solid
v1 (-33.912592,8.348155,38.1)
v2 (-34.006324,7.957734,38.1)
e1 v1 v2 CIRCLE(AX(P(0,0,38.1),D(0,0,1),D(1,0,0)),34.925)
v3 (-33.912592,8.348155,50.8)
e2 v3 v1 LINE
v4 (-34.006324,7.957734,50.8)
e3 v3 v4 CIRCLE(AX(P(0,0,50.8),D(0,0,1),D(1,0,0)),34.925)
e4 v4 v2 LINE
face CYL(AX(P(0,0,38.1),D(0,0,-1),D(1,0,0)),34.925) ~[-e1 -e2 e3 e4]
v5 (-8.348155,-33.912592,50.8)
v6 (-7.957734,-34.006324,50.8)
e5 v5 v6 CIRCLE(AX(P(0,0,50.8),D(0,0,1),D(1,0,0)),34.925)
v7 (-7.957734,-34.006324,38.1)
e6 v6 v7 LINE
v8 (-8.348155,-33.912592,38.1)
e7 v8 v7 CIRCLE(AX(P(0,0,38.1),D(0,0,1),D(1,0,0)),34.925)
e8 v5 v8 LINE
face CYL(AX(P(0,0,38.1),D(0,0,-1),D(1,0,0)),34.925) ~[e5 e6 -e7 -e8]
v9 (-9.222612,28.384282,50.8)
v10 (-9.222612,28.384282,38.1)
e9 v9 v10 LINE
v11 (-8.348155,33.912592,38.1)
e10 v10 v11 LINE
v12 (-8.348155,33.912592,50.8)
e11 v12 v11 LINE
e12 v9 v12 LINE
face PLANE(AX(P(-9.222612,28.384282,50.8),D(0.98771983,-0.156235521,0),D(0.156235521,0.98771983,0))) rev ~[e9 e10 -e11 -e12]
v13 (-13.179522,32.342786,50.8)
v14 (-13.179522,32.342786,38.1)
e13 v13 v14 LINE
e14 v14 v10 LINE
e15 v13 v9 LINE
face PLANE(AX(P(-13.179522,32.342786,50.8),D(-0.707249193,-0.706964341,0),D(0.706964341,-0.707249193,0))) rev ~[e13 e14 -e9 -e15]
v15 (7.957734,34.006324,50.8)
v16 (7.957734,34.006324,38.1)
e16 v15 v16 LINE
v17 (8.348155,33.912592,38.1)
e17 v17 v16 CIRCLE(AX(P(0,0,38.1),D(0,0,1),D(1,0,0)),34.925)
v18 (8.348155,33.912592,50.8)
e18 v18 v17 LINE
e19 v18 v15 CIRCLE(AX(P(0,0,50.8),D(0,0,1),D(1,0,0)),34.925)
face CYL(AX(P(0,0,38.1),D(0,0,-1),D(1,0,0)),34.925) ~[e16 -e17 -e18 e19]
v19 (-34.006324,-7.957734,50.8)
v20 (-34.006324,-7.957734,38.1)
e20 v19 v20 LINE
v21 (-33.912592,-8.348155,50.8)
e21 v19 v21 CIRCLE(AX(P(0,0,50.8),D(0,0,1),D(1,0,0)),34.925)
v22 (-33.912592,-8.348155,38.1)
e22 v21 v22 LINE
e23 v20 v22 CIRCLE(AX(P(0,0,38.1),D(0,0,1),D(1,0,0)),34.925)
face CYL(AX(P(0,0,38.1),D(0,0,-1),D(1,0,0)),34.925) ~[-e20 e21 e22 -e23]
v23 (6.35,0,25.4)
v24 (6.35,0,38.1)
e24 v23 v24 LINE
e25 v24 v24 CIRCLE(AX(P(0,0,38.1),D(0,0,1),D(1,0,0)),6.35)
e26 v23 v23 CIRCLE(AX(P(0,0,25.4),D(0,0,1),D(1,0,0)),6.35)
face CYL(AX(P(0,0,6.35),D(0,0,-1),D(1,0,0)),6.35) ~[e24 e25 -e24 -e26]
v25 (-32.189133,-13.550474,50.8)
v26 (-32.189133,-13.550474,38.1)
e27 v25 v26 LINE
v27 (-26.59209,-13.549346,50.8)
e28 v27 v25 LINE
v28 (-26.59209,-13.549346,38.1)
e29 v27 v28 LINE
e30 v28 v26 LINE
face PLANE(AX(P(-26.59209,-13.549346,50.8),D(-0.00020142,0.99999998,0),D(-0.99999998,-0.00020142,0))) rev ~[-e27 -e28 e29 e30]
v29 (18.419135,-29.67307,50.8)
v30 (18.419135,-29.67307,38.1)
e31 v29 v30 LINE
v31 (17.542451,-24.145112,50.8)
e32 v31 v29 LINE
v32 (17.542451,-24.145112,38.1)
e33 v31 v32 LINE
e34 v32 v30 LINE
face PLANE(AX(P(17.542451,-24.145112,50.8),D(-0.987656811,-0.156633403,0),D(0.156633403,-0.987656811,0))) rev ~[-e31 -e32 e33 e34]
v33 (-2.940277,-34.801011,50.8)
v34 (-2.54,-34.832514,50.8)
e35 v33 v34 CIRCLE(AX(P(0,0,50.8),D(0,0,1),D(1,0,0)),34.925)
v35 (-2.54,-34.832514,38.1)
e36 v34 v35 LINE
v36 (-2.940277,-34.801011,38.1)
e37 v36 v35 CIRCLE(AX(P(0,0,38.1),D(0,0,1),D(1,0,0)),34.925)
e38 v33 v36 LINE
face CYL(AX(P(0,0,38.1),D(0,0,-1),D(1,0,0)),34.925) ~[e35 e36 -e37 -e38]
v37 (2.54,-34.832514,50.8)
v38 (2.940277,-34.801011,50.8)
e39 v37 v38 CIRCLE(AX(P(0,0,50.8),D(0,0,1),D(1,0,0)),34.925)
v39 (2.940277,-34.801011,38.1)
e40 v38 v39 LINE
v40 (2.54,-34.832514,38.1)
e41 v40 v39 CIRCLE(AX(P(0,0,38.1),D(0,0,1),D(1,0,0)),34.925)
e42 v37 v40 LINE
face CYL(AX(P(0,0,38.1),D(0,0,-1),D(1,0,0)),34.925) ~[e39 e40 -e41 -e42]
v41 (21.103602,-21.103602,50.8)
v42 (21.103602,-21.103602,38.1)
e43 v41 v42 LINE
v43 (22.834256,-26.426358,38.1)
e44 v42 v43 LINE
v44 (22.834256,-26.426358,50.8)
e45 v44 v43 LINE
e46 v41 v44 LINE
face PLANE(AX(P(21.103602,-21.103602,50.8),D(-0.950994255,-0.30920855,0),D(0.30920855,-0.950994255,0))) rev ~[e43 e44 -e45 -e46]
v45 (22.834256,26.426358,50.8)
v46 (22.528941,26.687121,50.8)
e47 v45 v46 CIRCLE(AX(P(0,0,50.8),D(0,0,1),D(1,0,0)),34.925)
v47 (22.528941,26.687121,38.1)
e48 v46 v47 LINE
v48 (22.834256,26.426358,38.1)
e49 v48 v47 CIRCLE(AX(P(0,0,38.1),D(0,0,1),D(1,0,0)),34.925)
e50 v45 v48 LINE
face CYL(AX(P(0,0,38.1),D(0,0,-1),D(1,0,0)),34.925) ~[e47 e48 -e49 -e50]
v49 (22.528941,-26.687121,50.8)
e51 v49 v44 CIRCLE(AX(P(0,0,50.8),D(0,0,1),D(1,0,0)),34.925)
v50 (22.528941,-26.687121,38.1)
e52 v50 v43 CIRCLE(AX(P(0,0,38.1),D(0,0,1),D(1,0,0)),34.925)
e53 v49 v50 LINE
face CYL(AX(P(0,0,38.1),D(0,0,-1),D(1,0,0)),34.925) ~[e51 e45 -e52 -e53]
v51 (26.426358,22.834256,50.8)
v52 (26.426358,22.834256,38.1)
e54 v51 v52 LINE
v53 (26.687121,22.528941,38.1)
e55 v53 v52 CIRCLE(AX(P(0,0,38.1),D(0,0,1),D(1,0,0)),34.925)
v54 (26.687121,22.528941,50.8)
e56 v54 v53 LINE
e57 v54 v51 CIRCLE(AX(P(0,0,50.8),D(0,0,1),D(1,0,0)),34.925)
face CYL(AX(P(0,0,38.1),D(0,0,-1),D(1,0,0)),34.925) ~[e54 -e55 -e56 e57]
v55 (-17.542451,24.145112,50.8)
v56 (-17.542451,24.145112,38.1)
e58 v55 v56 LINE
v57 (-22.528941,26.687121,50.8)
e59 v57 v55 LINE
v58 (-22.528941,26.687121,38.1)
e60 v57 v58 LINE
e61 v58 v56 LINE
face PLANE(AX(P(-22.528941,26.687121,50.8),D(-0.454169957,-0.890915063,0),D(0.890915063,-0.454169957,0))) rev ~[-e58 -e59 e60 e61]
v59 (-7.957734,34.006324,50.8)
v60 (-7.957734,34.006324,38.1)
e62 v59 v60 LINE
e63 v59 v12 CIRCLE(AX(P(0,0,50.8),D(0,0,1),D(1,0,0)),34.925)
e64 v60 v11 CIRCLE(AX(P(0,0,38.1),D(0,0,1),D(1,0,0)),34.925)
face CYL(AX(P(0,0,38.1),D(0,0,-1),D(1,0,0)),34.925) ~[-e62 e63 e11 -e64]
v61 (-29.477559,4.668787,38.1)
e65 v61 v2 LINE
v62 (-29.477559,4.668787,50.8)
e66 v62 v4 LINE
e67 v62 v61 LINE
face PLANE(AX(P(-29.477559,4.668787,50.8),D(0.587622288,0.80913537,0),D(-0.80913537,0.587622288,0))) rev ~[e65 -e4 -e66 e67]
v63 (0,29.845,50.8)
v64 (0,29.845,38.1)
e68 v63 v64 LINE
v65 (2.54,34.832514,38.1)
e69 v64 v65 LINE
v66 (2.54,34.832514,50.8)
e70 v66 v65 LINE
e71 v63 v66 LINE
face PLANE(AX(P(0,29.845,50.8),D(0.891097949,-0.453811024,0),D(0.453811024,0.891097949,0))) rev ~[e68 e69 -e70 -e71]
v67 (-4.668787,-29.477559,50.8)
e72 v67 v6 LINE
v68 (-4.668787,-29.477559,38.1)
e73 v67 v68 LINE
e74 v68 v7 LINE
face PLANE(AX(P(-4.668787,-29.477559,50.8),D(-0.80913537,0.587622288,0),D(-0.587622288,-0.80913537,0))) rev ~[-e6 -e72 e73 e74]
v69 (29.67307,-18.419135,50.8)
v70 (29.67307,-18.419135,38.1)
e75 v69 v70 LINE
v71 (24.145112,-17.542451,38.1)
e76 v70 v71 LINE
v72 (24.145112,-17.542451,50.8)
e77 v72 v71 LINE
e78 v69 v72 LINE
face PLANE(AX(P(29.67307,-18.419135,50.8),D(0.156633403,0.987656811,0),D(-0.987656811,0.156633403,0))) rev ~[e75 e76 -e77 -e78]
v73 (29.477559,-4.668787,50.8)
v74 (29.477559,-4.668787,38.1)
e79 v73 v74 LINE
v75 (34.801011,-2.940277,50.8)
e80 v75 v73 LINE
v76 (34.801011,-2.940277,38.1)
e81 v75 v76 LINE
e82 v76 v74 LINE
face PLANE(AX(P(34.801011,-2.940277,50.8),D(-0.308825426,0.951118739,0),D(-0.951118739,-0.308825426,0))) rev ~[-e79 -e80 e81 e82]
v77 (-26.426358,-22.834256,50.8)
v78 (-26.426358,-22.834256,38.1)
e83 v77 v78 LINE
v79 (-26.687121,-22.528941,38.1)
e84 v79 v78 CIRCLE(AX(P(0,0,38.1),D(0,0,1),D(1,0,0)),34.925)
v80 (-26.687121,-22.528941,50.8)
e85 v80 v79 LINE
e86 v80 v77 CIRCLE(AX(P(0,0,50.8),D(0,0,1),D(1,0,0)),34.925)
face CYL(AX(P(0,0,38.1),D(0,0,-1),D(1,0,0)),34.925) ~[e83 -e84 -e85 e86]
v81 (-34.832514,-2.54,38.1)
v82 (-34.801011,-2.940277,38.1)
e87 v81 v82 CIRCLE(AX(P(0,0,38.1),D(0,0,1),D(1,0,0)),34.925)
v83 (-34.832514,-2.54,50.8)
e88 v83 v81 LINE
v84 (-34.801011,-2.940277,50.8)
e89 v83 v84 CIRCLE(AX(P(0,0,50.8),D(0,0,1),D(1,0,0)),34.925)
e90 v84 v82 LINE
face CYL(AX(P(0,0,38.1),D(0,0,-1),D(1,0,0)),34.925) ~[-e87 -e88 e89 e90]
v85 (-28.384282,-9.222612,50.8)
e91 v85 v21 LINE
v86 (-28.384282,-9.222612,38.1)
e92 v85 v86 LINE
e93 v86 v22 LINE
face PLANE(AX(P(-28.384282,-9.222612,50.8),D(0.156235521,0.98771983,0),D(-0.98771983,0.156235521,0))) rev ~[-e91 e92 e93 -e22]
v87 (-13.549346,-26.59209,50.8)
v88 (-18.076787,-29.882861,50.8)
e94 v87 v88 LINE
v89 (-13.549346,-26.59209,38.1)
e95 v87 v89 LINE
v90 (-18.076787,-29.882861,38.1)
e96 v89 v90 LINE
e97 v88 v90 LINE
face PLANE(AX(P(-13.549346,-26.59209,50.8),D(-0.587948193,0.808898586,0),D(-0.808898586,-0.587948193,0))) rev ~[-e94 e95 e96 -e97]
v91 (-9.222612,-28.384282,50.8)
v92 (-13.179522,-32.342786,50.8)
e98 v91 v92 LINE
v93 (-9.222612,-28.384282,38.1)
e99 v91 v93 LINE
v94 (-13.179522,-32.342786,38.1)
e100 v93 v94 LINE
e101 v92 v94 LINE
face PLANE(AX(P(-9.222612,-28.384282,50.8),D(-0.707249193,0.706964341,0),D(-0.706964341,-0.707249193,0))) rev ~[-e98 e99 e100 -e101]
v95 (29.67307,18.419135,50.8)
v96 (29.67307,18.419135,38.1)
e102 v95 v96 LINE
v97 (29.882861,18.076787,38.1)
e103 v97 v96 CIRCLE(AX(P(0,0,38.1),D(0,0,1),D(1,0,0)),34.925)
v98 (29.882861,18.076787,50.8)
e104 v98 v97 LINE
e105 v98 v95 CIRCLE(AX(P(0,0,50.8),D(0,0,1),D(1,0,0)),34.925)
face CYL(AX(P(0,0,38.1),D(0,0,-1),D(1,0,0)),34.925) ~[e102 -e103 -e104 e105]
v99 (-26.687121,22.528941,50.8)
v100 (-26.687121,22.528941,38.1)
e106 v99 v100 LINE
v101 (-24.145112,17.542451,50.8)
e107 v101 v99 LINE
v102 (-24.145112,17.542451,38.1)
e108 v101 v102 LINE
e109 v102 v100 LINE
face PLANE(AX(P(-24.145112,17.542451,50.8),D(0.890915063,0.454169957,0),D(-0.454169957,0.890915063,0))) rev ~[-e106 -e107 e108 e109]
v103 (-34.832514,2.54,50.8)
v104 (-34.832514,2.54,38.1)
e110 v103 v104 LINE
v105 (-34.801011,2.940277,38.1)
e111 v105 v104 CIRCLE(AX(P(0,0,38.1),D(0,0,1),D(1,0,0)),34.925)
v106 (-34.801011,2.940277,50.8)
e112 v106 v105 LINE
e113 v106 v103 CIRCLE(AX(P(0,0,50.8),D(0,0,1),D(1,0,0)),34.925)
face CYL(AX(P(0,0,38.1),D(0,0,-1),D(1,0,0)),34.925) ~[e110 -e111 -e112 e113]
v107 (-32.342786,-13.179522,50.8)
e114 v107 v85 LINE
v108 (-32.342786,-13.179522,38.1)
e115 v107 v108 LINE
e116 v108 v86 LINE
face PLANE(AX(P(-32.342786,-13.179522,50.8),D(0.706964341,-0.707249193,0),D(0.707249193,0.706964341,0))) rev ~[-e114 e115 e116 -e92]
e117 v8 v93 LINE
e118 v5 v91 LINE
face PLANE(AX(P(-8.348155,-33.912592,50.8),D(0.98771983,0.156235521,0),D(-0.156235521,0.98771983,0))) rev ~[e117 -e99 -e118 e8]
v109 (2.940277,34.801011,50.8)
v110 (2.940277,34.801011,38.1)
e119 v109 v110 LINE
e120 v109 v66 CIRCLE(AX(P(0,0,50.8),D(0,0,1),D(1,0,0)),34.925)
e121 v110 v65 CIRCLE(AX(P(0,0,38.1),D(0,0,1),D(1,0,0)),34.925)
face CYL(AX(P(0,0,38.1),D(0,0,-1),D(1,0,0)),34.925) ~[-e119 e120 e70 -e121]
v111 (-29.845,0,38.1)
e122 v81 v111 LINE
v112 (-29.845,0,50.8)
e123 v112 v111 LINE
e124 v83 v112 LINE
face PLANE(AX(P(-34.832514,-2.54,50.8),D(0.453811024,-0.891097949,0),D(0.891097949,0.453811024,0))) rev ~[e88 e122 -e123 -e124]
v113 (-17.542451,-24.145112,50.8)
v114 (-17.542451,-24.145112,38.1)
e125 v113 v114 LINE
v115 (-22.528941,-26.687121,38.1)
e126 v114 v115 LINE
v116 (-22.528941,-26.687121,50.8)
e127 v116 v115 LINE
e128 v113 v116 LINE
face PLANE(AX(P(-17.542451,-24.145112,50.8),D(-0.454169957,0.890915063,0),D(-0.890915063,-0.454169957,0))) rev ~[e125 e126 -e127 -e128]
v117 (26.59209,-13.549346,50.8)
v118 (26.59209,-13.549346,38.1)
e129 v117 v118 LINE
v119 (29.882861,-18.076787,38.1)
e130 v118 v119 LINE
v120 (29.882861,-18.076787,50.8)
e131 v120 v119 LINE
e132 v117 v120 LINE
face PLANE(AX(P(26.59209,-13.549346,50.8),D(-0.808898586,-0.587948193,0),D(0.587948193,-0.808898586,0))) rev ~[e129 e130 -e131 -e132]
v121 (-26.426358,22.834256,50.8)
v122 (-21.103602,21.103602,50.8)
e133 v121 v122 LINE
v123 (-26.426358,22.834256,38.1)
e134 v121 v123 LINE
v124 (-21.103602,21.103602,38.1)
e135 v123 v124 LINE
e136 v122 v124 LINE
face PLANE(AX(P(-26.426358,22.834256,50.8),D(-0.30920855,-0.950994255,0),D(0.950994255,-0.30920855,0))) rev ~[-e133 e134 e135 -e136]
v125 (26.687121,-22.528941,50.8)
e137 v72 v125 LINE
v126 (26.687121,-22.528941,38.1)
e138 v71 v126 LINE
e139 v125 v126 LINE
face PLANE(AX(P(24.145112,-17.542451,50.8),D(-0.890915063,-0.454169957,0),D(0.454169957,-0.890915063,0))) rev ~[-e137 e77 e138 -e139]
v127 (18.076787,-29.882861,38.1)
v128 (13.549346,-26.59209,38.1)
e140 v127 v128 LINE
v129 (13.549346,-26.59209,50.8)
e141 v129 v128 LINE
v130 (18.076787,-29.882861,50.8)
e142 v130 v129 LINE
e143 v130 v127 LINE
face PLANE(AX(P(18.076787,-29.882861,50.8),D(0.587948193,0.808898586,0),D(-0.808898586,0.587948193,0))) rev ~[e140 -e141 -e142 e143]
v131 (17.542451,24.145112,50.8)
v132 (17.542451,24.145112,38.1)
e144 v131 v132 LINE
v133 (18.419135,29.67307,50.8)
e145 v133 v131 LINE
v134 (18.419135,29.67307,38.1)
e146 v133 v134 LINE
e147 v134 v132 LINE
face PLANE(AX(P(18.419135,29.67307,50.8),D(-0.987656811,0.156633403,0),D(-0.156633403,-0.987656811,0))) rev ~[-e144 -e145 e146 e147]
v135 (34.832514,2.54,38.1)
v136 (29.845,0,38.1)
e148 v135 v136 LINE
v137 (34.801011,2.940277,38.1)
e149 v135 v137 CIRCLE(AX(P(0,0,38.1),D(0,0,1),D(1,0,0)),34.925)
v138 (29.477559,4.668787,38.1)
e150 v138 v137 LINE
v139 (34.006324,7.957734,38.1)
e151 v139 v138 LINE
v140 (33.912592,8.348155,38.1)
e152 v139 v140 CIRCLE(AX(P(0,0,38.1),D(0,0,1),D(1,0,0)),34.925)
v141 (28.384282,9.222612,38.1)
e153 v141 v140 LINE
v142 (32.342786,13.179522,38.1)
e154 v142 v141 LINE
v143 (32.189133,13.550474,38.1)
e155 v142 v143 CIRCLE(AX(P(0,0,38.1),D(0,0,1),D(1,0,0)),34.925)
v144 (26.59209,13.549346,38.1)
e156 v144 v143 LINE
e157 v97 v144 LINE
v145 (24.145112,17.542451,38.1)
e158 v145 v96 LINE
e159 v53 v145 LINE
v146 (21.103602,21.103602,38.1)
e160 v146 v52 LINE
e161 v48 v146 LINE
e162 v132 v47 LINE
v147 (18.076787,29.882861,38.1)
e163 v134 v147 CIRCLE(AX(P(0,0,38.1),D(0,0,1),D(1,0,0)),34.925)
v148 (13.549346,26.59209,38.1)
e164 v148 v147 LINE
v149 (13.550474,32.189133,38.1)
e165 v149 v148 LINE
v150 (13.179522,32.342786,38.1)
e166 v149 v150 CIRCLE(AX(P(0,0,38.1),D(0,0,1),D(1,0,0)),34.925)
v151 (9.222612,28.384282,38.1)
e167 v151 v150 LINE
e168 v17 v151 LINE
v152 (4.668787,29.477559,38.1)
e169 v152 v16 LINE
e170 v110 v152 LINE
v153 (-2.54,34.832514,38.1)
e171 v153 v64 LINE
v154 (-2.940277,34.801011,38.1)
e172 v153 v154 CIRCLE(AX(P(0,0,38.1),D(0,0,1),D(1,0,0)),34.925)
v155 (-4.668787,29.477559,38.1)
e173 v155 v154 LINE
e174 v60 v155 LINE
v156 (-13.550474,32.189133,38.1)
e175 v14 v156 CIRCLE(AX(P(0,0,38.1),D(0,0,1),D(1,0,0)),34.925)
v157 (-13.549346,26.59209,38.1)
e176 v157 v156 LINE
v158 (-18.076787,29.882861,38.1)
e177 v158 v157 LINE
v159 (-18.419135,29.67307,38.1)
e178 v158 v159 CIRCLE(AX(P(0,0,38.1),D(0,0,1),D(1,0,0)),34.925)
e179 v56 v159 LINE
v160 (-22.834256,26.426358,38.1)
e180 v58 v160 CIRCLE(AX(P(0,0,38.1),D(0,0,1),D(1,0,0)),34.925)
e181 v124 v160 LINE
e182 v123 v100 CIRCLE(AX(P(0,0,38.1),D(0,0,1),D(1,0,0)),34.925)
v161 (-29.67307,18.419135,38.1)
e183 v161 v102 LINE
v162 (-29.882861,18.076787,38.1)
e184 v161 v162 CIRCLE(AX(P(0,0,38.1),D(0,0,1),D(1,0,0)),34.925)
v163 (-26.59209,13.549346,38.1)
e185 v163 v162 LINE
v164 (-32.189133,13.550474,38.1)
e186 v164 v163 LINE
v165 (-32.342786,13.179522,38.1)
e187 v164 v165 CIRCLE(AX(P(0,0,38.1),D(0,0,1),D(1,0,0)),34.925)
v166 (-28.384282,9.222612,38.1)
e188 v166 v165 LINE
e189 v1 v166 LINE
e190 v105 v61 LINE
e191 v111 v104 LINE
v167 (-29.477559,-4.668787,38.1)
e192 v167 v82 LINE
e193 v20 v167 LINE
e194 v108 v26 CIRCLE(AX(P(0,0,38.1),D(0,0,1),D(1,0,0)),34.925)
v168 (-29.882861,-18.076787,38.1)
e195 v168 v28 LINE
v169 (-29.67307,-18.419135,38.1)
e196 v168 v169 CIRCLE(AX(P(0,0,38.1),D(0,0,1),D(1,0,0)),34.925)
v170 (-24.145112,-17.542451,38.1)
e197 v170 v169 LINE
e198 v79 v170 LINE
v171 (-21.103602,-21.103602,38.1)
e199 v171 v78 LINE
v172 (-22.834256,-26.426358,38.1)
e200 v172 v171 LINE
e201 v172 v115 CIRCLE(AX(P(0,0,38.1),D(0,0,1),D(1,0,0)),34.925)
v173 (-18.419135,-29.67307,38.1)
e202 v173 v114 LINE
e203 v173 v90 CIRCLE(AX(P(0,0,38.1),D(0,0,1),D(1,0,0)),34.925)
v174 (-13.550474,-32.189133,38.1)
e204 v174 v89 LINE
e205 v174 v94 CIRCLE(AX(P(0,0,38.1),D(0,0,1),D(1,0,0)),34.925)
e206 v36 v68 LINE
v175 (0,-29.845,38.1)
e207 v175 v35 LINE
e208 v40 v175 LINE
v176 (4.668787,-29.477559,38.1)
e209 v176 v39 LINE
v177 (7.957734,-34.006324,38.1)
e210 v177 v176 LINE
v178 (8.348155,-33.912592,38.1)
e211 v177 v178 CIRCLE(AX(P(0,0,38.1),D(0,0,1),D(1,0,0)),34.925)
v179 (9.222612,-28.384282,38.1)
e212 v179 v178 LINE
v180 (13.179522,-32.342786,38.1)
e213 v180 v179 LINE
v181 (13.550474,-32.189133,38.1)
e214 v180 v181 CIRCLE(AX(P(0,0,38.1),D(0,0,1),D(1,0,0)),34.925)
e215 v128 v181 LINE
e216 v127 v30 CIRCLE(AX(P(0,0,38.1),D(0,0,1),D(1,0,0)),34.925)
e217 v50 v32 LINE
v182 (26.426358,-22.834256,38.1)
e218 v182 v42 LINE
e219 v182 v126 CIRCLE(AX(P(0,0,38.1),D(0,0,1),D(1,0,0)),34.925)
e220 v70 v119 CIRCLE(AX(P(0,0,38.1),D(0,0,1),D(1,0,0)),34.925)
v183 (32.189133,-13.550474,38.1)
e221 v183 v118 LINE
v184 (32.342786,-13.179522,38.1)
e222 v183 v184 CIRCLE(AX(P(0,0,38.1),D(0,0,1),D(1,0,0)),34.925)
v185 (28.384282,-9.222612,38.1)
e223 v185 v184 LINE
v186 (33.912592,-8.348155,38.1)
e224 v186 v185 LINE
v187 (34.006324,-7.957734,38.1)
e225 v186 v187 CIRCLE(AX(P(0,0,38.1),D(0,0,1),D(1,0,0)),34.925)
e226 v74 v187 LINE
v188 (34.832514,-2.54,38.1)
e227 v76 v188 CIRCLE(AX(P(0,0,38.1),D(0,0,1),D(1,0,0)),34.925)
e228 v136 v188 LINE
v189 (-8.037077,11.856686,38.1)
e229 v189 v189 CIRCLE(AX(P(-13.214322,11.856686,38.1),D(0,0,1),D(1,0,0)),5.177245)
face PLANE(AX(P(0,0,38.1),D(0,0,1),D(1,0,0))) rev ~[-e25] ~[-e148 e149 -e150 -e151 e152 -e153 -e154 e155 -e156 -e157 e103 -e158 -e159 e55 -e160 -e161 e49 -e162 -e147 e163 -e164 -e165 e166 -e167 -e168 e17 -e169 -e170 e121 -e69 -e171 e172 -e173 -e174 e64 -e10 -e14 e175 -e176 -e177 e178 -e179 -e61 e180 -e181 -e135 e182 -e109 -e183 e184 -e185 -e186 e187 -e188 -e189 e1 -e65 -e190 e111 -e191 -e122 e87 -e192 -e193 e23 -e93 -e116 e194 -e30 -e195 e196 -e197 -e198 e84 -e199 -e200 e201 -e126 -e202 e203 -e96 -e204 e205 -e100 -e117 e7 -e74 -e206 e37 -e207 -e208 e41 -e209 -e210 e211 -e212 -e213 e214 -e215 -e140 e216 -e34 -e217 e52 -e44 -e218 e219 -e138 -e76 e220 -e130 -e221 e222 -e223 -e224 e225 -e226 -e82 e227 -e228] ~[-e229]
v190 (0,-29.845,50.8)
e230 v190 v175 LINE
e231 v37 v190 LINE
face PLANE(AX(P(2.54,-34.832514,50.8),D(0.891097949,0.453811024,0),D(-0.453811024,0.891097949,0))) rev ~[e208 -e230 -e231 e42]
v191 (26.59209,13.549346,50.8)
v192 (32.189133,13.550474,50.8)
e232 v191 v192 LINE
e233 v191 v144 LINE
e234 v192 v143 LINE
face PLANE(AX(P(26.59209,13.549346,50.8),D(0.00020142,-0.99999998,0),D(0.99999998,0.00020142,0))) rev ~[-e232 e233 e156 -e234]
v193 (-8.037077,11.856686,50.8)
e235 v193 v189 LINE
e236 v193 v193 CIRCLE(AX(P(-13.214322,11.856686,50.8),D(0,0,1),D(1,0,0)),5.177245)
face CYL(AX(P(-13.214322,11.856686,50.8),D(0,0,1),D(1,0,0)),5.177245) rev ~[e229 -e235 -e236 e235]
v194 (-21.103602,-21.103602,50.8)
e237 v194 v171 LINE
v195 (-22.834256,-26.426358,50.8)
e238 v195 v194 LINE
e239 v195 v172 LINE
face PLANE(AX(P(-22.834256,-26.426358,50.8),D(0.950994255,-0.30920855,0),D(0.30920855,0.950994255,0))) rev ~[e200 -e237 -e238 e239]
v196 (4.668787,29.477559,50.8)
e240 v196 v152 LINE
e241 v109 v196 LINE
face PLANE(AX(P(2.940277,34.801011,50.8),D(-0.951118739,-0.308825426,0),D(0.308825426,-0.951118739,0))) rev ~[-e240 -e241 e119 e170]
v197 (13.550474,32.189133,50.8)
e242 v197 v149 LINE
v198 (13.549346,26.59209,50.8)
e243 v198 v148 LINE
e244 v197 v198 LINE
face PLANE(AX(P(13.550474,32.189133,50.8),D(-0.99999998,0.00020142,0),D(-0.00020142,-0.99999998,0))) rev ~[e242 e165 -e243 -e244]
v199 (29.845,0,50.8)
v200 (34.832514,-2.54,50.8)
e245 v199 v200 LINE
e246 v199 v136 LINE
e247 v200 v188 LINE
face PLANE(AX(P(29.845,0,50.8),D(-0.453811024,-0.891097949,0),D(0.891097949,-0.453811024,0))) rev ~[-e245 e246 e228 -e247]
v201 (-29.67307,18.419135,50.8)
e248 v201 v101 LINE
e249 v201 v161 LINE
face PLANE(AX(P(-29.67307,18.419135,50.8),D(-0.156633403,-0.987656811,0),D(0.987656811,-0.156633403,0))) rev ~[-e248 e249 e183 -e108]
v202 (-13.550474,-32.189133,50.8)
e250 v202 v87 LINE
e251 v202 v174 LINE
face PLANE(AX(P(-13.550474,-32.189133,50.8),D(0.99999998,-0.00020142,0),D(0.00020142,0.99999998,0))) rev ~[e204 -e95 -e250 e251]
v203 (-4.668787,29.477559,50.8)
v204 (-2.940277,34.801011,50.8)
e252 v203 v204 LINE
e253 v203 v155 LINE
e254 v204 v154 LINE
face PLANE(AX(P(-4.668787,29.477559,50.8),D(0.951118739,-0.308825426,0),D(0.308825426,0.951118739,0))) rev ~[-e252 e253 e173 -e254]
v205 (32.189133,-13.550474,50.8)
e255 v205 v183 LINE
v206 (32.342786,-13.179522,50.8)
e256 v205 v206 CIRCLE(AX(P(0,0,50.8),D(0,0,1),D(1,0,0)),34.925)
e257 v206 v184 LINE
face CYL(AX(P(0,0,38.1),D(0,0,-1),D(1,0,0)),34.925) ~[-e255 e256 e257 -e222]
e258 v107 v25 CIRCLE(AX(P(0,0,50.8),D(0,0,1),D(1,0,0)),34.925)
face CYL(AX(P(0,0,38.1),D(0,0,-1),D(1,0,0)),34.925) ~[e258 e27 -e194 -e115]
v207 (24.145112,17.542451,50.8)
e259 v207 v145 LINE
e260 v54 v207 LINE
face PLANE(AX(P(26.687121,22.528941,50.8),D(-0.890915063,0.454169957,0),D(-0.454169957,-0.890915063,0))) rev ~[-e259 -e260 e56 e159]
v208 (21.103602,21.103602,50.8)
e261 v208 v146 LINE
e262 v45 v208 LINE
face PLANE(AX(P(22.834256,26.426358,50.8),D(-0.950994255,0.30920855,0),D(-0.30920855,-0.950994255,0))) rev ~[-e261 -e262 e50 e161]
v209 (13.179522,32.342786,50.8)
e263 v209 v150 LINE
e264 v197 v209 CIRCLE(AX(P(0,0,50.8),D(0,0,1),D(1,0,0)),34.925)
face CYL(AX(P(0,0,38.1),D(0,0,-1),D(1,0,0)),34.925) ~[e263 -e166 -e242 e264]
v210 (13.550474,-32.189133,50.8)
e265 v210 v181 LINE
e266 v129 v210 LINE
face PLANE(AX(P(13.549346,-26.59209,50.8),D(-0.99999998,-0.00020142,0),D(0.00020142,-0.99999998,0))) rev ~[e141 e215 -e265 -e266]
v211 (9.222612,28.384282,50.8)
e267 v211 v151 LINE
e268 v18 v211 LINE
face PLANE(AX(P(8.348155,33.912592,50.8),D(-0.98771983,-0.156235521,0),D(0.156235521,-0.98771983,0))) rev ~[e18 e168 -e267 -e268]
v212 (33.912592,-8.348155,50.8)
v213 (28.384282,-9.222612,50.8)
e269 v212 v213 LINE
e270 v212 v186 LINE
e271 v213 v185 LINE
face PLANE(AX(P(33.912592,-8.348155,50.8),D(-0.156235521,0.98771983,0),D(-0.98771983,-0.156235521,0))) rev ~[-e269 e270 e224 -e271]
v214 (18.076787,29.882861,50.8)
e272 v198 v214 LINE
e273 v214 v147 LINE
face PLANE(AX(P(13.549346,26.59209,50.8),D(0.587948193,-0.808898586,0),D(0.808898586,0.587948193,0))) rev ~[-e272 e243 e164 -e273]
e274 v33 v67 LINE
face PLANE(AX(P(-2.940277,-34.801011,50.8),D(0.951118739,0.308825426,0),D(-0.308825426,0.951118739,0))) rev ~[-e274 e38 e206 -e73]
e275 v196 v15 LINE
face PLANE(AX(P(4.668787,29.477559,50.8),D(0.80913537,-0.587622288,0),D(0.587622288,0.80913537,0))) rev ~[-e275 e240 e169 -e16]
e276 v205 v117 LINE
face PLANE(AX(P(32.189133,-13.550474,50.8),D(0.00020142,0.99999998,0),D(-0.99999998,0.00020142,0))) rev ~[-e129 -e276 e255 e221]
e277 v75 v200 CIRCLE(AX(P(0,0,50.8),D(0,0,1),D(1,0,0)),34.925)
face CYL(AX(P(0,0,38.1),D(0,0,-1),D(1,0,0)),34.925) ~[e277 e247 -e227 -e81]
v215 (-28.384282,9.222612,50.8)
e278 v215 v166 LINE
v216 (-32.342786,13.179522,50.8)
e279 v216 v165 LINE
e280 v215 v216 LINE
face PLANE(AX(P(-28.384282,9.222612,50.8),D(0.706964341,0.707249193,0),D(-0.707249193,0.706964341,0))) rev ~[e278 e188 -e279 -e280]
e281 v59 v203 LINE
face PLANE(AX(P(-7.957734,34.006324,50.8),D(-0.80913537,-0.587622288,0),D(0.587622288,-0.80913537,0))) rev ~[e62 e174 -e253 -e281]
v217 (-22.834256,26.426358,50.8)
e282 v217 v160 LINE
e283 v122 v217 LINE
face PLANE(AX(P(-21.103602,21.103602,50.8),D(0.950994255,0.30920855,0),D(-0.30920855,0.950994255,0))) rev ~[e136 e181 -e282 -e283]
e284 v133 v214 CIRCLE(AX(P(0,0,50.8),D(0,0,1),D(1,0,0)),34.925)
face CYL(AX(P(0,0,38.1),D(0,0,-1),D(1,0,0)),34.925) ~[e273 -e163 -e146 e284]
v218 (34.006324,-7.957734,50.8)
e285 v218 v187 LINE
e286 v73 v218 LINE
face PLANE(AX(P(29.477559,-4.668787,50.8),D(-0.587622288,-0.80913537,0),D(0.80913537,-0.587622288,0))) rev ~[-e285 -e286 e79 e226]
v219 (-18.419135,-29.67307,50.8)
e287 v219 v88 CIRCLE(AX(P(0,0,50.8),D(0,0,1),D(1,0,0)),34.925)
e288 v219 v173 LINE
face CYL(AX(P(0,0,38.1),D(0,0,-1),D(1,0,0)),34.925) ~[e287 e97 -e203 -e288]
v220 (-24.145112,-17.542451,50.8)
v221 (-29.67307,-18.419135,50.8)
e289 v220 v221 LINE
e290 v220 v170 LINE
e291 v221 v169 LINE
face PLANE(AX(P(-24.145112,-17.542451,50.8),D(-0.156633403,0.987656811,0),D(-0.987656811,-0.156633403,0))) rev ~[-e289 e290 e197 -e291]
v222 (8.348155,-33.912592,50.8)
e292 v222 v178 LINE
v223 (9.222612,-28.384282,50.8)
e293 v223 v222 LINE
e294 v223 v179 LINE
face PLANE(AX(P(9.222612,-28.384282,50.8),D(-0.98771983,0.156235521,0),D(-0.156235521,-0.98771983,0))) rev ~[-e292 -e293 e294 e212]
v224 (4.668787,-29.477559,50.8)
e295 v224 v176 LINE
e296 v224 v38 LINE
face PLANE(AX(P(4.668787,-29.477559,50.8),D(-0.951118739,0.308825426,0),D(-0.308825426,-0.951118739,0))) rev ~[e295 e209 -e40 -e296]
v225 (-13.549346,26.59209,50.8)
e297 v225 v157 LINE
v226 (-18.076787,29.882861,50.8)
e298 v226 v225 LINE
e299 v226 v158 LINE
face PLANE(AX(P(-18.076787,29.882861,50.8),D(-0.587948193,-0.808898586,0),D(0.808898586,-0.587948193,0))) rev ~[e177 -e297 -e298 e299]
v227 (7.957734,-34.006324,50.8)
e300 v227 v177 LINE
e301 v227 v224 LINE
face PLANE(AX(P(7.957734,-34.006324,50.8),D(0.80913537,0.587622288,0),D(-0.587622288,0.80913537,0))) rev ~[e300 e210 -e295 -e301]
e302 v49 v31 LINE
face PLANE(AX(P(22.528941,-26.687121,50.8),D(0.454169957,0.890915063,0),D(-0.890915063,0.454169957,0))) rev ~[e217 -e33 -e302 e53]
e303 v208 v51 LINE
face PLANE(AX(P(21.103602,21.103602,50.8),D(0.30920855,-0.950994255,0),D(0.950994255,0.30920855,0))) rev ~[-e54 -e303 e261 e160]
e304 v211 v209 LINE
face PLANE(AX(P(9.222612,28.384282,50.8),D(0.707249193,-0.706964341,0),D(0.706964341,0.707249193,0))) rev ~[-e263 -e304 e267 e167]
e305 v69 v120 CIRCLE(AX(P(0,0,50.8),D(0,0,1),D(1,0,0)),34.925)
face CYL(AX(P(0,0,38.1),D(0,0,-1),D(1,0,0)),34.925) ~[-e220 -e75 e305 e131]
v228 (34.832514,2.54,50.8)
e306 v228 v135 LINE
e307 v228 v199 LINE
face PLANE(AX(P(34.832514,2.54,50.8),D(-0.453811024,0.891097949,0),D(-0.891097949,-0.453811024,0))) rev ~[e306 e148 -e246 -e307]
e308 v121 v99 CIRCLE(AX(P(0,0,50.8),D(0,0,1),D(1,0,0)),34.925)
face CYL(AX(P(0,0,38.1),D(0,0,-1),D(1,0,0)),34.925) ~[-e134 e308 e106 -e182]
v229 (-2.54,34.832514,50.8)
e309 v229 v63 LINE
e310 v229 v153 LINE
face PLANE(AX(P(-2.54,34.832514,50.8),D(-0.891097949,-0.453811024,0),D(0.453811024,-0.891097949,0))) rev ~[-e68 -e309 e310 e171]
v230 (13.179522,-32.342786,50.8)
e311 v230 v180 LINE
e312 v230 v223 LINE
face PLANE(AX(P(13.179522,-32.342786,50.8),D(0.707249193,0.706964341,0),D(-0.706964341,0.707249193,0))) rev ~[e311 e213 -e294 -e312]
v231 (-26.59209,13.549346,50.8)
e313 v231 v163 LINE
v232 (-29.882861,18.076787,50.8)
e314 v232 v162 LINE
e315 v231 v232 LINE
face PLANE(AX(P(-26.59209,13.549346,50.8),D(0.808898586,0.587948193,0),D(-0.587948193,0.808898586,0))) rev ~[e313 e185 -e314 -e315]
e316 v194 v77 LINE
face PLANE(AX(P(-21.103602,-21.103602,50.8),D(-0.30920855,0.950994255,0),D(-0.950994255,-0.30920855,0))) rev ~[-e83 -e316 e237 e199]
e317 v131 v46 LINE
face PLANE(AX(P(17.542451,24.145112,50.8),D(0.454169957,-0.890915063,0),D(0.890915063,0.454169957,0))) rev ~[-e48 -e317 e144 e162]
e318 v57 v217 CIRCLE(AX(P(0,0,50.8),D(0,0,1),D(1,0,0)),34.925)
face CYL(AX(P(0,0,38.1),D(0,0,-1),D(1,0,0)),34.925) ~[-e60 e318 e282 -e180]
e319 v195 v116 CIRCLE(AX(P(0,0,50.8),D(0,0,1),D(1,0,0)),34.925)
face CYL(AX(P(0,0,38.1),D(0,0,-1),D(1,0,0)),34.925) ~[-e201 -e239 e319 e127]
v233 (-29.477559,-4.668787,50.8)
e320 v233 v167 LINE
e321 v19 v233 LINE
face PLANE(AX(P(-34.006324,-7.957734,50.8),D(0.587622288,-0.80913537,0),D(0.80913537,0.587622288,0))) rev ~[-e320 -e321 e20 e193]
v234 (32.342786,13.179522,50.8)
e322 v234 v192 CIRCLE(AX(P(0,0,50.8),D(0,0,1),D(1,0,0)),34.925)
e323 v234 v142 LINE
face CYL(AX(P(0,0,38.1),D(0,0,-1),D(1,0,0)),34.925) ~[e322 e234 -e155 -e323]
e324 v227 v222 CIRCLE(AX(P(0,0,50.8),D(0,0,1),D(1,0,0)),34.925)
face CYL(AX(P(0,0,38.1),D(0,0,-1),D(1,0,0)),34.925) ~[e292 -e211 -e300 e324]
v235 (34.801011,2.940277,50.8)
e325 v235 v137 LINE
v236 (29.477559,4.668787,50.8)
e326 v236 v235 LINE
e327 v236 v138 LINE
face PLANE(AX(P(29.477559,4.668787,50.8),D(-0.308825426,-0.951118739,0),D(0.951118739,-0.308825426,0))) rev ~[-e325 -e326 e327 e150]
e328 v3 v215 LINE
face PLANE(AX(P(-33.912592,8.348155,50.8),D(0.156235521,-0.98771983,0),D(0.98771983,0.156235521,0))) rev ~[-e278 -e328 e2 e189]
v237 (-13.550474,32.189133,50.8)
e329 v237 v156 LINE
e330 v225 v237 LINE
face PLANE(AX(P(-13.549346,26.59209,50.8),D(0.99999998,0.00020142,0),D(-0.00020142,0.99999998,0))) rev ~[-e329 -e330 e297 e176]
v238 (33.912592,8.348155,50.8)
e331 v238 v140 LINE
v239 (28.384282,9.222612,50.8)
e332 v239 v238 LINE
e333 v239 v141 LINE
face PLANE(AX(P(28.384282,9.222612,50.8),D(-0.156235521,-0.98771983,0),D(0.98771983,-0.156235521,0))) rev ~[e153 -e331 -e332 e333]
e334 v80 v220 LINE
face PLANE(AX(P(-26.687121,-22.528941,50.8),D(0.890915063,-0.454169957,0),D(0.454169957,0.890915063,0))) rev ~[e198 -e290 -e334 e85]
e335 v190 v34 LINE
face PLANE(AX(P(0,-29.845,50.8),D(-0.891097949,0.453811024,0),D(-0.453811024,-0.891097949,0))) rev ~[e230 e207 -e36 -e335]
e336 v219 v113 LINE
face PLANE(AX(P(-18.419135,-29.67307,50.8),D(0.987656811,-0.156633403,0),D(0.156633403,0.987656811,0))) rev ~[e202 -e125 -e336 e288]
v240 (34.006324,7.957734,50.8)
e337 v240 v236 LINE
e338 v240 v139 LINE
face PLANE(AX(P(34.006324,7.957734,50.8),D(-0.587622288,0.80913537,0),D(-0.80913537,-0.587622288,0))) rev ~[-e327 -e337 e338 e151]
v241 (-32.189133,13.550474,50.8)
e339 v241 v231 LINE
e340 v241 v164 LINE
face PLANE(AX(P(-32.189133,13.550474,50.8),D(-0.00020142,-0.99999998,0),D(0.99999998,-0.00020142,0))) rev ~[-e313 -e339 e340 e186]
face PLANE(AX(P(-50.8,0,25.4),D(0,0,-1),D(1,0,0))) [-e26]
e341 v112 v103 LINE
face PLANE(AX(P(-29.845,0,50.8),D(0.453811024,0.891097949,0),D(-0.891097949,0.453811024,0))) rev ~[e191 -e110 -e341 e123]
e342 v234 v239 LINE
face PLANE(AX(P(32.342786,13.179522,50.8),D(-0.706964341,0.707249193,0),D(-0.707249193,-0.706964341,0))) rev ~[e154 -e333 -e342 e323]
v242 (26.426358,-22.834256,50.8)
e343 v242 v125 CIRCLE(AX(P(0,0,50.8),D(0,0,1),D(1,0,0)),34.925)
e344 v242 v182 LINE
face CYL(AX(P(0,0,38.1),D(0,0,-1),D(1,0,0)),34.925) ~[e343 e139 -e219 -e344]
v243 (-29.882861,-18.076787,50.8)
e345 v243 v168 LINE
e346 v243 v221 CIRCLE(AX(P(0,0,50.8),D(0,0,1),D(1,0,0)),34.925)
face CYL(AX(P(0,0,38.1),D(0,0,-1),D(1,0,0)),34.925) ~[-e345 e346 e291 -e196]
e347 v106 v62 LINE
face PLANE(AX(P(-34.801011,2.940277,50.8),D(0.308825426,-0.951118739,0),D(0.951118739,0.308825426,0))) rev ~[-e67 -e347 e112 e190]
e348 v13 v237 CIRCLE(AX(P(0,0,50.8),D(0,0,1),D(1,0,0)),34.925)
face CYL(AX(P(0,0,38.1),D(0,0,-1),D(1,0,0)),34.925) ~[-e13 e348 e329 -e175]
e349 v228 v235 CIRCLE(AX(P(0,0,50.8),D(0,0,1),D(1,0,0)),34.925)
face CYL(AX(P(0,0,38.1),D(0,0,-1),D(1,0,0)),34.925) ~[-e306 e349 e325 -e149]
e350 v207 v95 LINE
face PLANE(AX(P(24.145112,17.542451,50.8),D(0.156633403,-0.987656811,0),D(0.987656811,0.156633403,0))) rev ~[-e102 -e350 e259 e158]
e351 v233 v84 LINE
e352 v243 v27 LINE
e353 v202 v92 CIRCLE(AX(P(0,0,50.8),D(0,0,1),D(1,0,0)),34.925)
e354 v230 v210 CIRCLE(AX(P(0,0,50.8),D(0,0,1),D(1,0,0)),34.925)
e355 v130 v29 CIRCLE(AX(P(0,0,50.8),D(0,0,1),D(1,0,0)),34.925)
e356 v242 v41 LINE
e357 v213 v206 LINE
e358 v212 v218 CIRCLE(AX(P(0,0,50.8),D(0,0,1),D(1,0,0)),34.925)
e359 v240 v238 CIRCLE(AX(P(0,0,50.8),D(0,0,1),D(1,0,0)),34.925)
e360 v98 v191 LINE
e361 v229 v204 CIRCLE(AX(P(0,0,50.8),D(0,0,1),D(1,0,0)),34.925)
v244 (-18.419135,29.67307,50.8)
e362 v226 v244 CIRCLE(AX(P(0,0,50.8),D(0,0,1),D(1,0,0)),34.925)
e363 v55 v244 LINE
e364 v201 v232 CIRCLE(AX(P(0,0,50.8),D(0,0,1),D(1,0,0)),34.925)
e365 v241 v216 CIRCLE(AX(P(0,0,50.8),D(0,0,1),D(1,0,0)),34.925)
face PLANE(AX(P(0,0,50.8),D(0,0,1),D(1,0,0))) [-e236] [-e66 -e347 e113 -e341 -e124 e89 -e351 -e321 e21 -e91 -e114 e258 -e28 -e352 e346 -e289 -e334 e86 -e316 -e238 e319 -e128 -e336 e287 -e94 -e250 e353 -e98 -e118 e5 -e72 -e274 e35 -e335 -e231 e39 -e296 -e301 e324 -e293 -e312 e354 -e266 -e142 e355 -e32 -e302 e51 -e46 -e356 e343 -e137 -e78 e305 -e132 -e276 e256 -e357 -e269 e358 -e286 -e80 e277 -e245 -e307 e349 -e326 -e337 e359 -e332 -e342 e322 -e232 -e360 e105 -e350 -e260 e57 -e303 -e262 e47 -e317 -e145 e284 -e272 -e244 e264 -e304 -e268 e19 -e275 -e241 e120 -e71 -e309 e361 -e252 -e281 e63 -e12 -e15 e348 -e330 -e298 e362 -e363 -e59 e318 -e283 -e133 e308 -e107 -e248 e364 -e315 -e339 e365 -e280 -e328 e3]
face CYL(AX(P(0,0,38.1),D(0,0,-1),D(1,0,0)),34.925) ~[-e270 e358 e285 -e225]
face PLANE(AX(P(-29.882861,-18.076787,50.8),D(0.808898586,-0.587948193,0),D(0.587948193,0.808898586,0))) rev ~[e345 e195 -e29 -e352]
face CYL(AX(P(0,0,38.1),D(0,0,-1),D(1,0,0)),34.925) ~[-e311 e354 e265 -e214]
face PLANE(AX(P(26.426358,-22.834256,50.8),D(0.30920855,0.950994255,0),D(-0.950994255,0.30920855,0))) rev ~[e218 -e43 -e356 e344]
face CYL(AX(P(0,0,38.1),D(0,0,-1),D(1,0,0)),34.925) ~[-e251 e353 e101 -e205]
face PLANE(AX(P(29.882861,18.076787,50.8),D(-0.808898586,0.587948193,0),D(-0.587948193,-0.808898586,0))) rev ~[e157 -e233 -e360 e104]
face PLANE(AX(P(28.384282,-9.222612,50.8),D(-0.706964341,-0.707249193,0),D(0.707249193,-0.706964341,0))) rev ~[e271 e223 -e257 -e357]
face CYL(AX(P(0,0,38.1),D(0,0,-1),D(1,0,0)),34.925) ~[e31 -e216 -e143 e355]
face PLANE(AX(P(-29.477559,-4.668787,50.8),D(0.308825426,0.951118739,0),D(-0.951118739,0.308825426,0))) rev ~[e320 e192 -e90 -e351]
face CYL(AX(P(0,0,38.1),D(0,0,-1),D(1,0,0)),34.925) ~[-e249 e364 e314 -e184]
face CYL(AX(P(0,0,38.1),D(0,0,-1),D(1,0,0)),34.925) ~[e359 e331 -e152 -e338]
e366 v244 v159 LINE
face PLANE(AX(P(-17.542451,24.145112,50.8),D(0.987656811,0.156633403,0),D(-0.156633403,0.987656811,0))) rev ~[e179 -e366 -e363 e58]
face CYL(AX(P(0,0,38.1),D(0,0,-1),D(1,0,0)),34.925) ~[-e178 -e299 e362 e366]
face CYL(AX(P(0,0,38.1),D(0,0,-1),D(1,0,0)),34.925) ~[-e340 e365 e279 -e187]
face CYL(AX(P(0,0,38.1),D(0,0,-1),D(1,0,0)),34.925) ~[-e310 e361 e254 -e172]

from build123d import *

# Parameters (mm, degrees)
F0_R           = 19.05
F1_DEPTH       = 6.35
F2_R           = 6.35
F3_DEPTH       = 31.75
F4_R           = 34.925
F5_DEPTH       = 12.7
F7_DEPTH       = 25.4
F9_DEPTH       = 25.4
F10_W          = 101.6
F10_H          = 25.4
F11_DEPTH      = 34.8335139058
F11_DEPTH_BACK = 34.8335139058
F12_R          = 5.1772448442
F13_DEPTH      = 25.4


with BuildPart() as f1:
    # F0 (on Top) → F1 (new body)
    with BuildSketch(Plane.XY):
        Circle(F0_R)
    extrude(amount=F1_DEPTH)

    # F2 (on face) → F3 (join)
    with BuildSketch(Plane.XY.offset(6.35)):
        Circle(F2_R)
    extrude(amount=F3_DEPTH)

    # F4 (on face) → F5 (join)
    with BuildSketch(Plane.XY.offset(38.1)):
        Circle(F4_R)
    extrude(amount=F5_DEPTH)

    # F6 (on face) → F7 (cut)
    with BuildSketch(Plane(origin=(0, 0, 0), x_dir=(1, 0, 0), z_dir=(0, 0, -1))):
        with BuildLine():
            Line((-2.54, 18.8799073091), (0, 16.51))
            Line((0, 16.51), (2.54, 18.8799073091))
            ThreePointArc((2.54, 18.8799073091), (0, 19.05), (-2.54, 18.8799073091))
        make_face()
        with BuildLine():
            Line((-8.2498957621, 17.1709557077), (-5.1018705771, 15.701943084))
            Line((-5.1018705771, 15.701943084), (-3.4185286593, 18.7407620391))
            ThreePointArc((-3.4185286593, 18.7407620391), (-5.8867737428, 18.1176266354), (-8.2498957621, 17.1709557077))
        make_face()
        with BuildLine():
            Line((-13.1522342466, 13.7811913245), (-9.7043345153, 13.3568705771))
            Line((-9.7043345153, 13.3568705771), (-9.0424279152, 16.7671404061))
            ThreePointArc((-9.0424279152, 16.7671404061), (-11.1973090562, 15.4117737428), (-13.1522342466, 13.7811913245))
        make_face()
        with BuildLine():
            Line((-16.7671404061, 9.0424279152), (-13.3568705771, 9.7043345153))
            Line((-13.3568705771, 9.7043345153), (-13.7811913245, 13.1522342466))
            ThreePointArc((-13.7811913245, 13.1522342466), (-15.4117737428, 11.1973090562), (-16.7671404061, 9.0424279152))
        make_face()
        with BuildLine():
            Line((-18.7407620391, 3.4185286593), (-15.701943084, 5.1018705771))
            Line((-15.701943084, 5.1018705771), (-17.1709557077, 8.2498957621))
            ThreePointArc((-17.1709557077, 8.2498957621), (-18.1176266354, 5.8867737428), (-18.7407620391, 3.4185286593))
        make_face()
        with BuildLine():
            Line((-18.8799073091, -2.54), (-16.51, 0))
            Line((-16.51, 0), (-18.8799073091, 2.54))
            ThreePointArc((-18.8799073091, 2.54), (-19.05, 0), (-18.8799073091, -2.54))
        make_face()
        with BuildLine():
            Line((-17.1709557077, -8.2498957621), (-15.701943084, -5.1018705771))
            Line((-15.701943084, -5.1018705771), (-18.7407620391, -3.4185286593))
            ThreePointArc((-18.7407620391, -3.4185286593), (-18.1176266354, -5.8867737428), (-17.1709557077, -8.2498957621))
        make_face()
        with BuildLine():
            Line((-13.7811913245, -13.1522342466), (-13.3568705771, -9.7043345153))
            Line((-13.3568705771, -9.7043345153), (-16.7671404061, -9.0424279152))
            ThreePointArc((-16.7671404061, -9.0424279152), (-15.4117737428, -11.1973090562), (-13.7811913245, -13.1522342466))
        make_face()
        with BuildLine():
            Line((-9.0424279152, -16.7671404061), (-9.7043345153, -13.3568705771))
            Line((-9.7043345153, -13.3568705771), (-13.1522342466, -13.7811913245))
            ThreePointArc((-13.1522342466, -13.7811913245), (-11.1973090562, -15.4117737428), (-9.0424279152, -16.7671404061))
        make_face()
        with BuildLine():
            Line((-3.4185286593, -18.7407620391), (-5.1018705771, -15.701943084))
            Line((-5.1018705771, -15.701943084), (-8.2498957621, -17.1709557077))
            ThreePointArc((-8.2498957621, -17.1709557077), (-5.8867737428, -18.1176266354), (-3.4185286593, -18.7407620391))
        make_face()
        with BuildLine():
            Line((2.54, -18.8799073091), (0, -16.51))
            Line((0, -16.51), (-2.54, -18.8799073091))
            ThreePointArc((-2.54, -18.8799073091), (0, -19.05), (2.54, -18.8799073091))
        make_face()
        with BuildLine():
            Line((8.2498957621, -17.1709557077), (5.1018705771, -15.701943084))
            Line((5.1018705771, -15.701943084), (3.4185286593, -18.7407620391))
            ThreePointArc((3.4185286593, -18.7407620391), (5.8867737428, -18.1176266354), (8.2498957621, -17.1709557077))
        make_face()
        with BuildLine():
            Line((13.1522342466, -13.7811913245), (9.7043345153, -13.3568705771))
            Line((9.7043345153, -13.3568705771), (9.0424279152, -16.7671404061))
            ThreePointArc((9.0424279152, -16.7671404061), (11.1973090562, -15.4117737428), (13.1522342466, -13.7811913245))
        make_face()
        with BuildLine():
            Line((16.7671404061, -9.0424279152), (13.3568705771, -9.7043345153))
            Line((13.3568705771, -9.7043345153), (13.7811913245, -13.1522342466))
            ThreePointArc((13.7811913245, -13.1522342466), (15.4117737428, -11.1973090562), (16.7671404061, -9.0424279152))
        make_face()
        with BuildLine():
            Line((18.7407620391, -3.4185286593), (15.701943084, -5.1018705771))
            Line((15.701943084, -5.1018705771), (17.1709557077, -8.2498957621))
            ThreePointArc((17.1709557077, -8.2498957621), (18.1176266354, -5.8867737428), (18.7407620391, -3.4185286593))
        make_face()
        with BuildLine():
            Line((18.8799073091, 2.54), (16.51, 0))
            Line((16.51, 0), (18.8799073091, -2.54))
            ThreePointArc((18.8799073091, -2.54), (19.05, 0), (18.8799073091, 2.54))
        make_face()
        with BuildLine():
            Line((17.1709557077, 8.2498957621), (15.701943084, 5.1018705771))
            Line((15.701943084, 5.1018705771), (18.7407620391, 3.4185286593))
            ThreePointArc((18.7407620391, 3.4185286593), (18.1176266354, 5.8867737428), (17.1709557077, 8.2498957621))
        make_face()
        with BuildLine():
            Line((13.7811913245, 13.1522342466), (13.3568705771, 9.7043345153))
            Line((13.3568705771, 9.7043345153), (16.7671404061, 9.0424279152))
            ThreePointArc((16.7671404061, 9.0424279152), (15.4117737428, 11.1973090562), (13.7811913245, 13.1522342466))
        make_face()
        with BuildLine():
            Line((9.0424279152, 16.7671404061), (9.7043345153, 13.3568705771))
            Line((9.7043345153, 13.3568705771), (13.1522342466, 13.7811913245))
            ThreePointArc((13.1522342466, 13.7811913245), (11.1973090562, 15.4117737428), (9.0424279152, 16.7671404061))
        make_face()
        with BuildLine():
            Line((3.4185286593, 18.7407620391), (5.1018705771, 15.701943084))
            Line((5.1018705771, 15.701943084), (8.2498957621, 17.1709557077))
            ThreePointArc((8.2498957621, 17.1709557077), (5.8867737428, 18.1176266354), (3.4185286593, 18.7407620391))
        make_face()
    extrude(amount=-F7_DEPTH, mode=Mode.SUBTRACT)

    # F8 (on face) → F9 (cut)
    with BuildSketch(Plane.XY.offset(50.8)):
        with BuildLine():
            Line((-2.54, 34.8325139058), (0, 29.845))
            Line((0, 29.845), (2.54, 34.8325139058))
            ThreePointArc((2.54, 34.8325139058), (0, 34.925), (-2.54, 34.8325139058))
        make_face()
        with BuildLine():
            Line((-7.957734064, 34.0063243172), (-4.6687866091, 29.4775585251))
            Line((-4.6687866091, 29.4775585251), (-2.9402772938, 34.8010113996))
            ThreePointArc((-2.9402772938, 34.8010113996), (-5.4634736915, 34.4950152953), (-7.957734064, 34.0063243172))
        make_face()
        with BuildLine():
            Line((-13.1795223051, 32.3427861634), (-9.2226121971, 28.3842817288))
            Line((-9.2226121971, 28.3842817288), (-8.3481552023, 33.9125924948))
            ThreePointArc((-8.3481552023, 33.9125924948), (-10.7924185285, 33.2156488316), (-13.1795223051, 32.3427861634))
        make_face()
        with BuildLine():
            Line((-18.0767869667, 29.8828612746), (-13.5493464647, 26.5920897144))
            Line((-13.5493464647, 26.5920897144), (-13.5504738239, 32.1891330133))
            ThreePointArc((-13.5504738239, 32.1891330133), (-15.8556182034, 31.1184028573), (-18.0767869667, 29.8828612746))
        make_face()
        with BuildLine():
            Line((-22.5289411398, 26.6871211658), (-17.5424508547, 24.1451121971))
            Line((-17.5424508547, 24.1451121971), (-18.4191348084, 29.6730702474))
            ThreePointArc((-18.4191348084, 29.6730702474), (-20.5283999363, 28.2549185285), (-22.5289411398, 26.6871211658))
        make_face()
        with BuildLine():
            Line((-26.4263580128, 22.8342555644), (-21.1036018845, 21.1036018845))
            Line((-21.1036018845, 21.1036018845), (-22.8342555644, 26.4263580128))
            ThreePointArc((-22.8342555644, 26.4263580128), (-24.6957043329, 24.6957043329), (-26.4263580128, 22.8342555644))
        make_face()
        with BuildLine():
            Line((-29.6730702474, 18.4191348084), (-24.1451121971, 17.5424508547))
            Line((-24.1451121971, 17.5424508547), (-26.6871211658, 22.5289411398))
            ThreePointArc((-26.6871211658, 22.5289411398), (-28.2549185285, 20.5283999363), (-29.6730702474, 18.4191348084))
        make_face()
        with BuildLine():
            Line((-32.1891330133, 13.5504738239), (-26.5920897144, 13.5493464647))
            Line((-26.5920897144, 13.5493464647), (-29.8828612746, 18.0767869667))
            ThreePointArc((-29.8828612746, 18.0767869667), (-31.1184028573, 15.8556182034), (-32.1891330133, 13.5504738239))
        make_face()
        with BuildLine():
            Line((-33.9125924948, 8.3481552023), (-28.3842817288, 9.2226121971))
            Line((-28.3842817288, 9.2226121971), (-32.3427861634, 13.1795223051))
            ThreePointArc((-32.3427861634, 13.1795223051), (-33.2156488316, 10.7924185285), (-33.9125924948, 8.3481552023))
        make_face()
        with BuildLine():
            Line((-34.8010113996, 2.9402772938), (-29.4775585251, 4.6687866091))
            Line((-29.4775585251, 4.6687866091), (-34.0063243172, 7.957734064))
            ThreePointArc((-34.0063243172, 7.957734064), (-34.4950152953, 5.4634736915), (-34.8010113996, 2.9402772938))
        make_face()
        with BuildLine():
            Line((-34.8325139058, -2.54), (-29.845, 0))
            Line((-29.845, 0), (-34.8325139058, 2.54))
            ThreePointArc((-34.8325139058, 2.54), (-34.925, 0), (-34.8325139058, -2.54))
        make_face()
        with BuildLine():
            Line((-34.0063243172, -7.957734064), (-29.4775585251, -4.6687866091))
            Line((-29.4775585251, -4.6687866091), (-34.8010113996, -2.9402772938))
            ThreePointArc((-34.8010113996, -2.9402772938), (-34.4950152953, -5.4634736915), (-34.0063243172, -7.957734064))
        make_face()
        with BuildLine():
            Line((-32.3427861634, -13.1795223051), (-28.3842817288, -9.2226121971))
            Line((-28.3842817288, -9.2226121971), (-33.9125924948, -8.3481552023))
            ThreePointArc((-33.9125924948, -8.3481552023), (-33.2156488316, -10.7924185285), (-32.3427861634, -13.1795223051))
        make_face()
        with BuildLine():
            Line((-29.8828612746, -18.0767869667), (-26.5920897144, -13.5493464647))
            Line((-26.5920897144, -13.5493464647), (-32.1891330133, -13.5504738239))
            ThreePointArc((-32.1891330133, -13.5504738239), (-31.1184028573, -15.8556182034), (-29.8828612746, -18.0767869667))
        make_face()
        with BuildLine():
            Line((-26.6871211658, -22.5289411398), (-24.1451121971, -17.5424508547))
            Line((-24.1451121971, -17.5424508547), (-29.6730702474, -18.4191348084))
            ThreePointArc((-29.6730702474, -18.4191348084), (-28.2549185285, -20.5283999363), (-26.6871211658, -22.5289411398))
        make_face()
        with BuildLine():
            Line((-22.8342555644, -26.4263580128), (-21.1036018845, -21.1036018845))
            Line((-21.1036018845, -21.1036018845), (-26.4263580128, -22.8342555644))
            ThreePointArc((-26.4263580128, -22.8342555644), (-24.6957043329, -24.6957043329), (-22.8342555644, -26.4263580128))
        make_face()
        with BuildLine():
            Line((-18.4191348084, -29.6730702474), (-17.5424508547, -24.1451121971))
            Line((-17.5424508547, -24.1451121971), (-22.5289411398, -26.6871211658))
            ThreePointArc((-22.5289411398, -26.6871211658), (-20.5283999363, -28.2549185285), (-18.4191348084, -29.6730702474))
        make_face()
        with BuildLine():
            Line((-13.5504738239, -32.1891330133), (-13.5493464647, -26.5920897144))
            Line((-13.5493464647, -26.5920897144), (-18.0767869667, -29.8828612746))
            ThreePointArc((-18.0767869667, -29.8828612746), (-15.8556182034, -31.1184028573), (-13.5504738239, -32.1891330133))
        make_face()
        with BuildLine():
            Line((-8.3481552023, -33.9125924948), (-9.2226121971, -28.3842817288))
            Line((-9.2226121971, -28.3842817288), (-13.1795223051, -32.3427861634))
            ThreePointArc((-13.1795223051, -32.3427861634), (-10.7924185285, -33.2156488316), (-8.3481552023, -33.9125924948))
        make_face()
        with BuildLine():
            Line((-2.9402772938, -34.8010113996), (-4.6687866091, -29.4775585251))
            Line((-4.6687866091, -29.4775585251), (-7.957734064, -34.0063243172))
            ThreePointArc((-7.957734064, -34.0063243172), (-5.4634736915, -34.4950152953), (-2.9402772938, -34.8010113996))
        make_face()
        with BuildLine():
            Line((2.54, -34.8325139058), (0, -29.845))
            Line((0, -29.845), (-2.54, -34.8325139058))
            ThreePointArc((-2.54, -34.8325139058), (0, -34.925), (2.54, -34.8325139058))
        make_face()
        with BuildLine():
            Line((7.957734064, -34.0063243172), (4.6687866091, -29.4775585251))
            Line((4.6687866091, -29.4775585251), (2.9402772938, -34.8010113996))
            ThreePointArc((2.9402772938, -34.8010113996), (5.4634736915, -34.4950152953), (7.957734064, -34.0063243172))
        make_face()
        with BuildLine():
            Line((13.1795223051, -32.3427861634), (9.2226121971, -28.3842817288))
            Line((9.2226121971, -28.3842817288), (8.3481552023, -33.9125924948))
            ThreePointArc((8.3481552023, -33.9125924948), (10.7924185285, -33.2156488316), (13.1795223051, -32.3427861634))
        make_face()
        with BuildLine():
            Line((18.0767869667, -29.8828612746), (13.5493464647, -26.5920897144))
            Line((13.5493464647, -26.5920897144), (13.5504738239, -32.1891330133))
            ThreePointArc((13.5504738239, -32.1891330133), (15.8556182034, -31.1184028573), (18.0767869667, -29.8828612746))
        make_face()
        with BuildLine():
            Line((22.5289411398, -26.6871211658), (17.5424508547, -24.1451121971))
            Line((17.5424508547, -24.1451121971), (18.4191348084, -29.6730702474))
            ThreePointArc((18.4191348084, -29.6730702474), (20.5283999363, -28.2549185285), (22.5289411398, -26.6871211658))
        make_face()
        with BuildLine():
            Line((26.4263580128, -22.8342555644), (21.1036018845, -21.1036018845))
            Line((21.1036018845, -21.1036018845), (22.8342555644, -26.4263580128))
            ThreePointArc((22.8342555644, -26.4263580128), (24.6957043329, -24.6957043329), (26.4263580128, -22.8342555644))
        make_face()
        with BuildLine():
            Line((29.6730702474, -18.4191348084), (24.1451121971, -17.5424508547))
            Line((24.1451121971, -17.5424508547), (26.6871211658, -22.5289411398))
            ThreePointArc((26.6871211658, -22.5289411398), (28.2549185285, -20.5283999363), (29.6730702474, -18.4191348084))
        make_face()
        with BuildLine():
            Line((32.1891330133, -13.5504738239), (26.5920897144, -13.5493464647))
            Line((26.5920897144, -13.5493464647), (29.8828612746, -18.0767869667))
            ThreePointArc((29.8828612746, -18.0767869667), (31.1184028573, -15.8556182034), (32.1891330133, -13.5504738239))
        make_face()
        with BuildLine():
            Line((33.9125924948, -8.3481552023), (28.3842817288, -9.2226121971))
            Line((28.3842817288, -9.2226121971), (32.3427861634, -13.1795223051))
            ThreePointArc((32.3427861634, -13.1795223051), (33.2156488316, -10.7924185285), (33.9125924948, -8.3481552023))
        make_face()
        with BuildLine():
            Line((34.8010113996, -2.9402772938), (29.4775585251, -4.6687866091))
            Line((29.4775585251, -4.6687866091), (34.0063243172, -7.957734064))
            ThreePointArc((34.0063243172, -7.957734064), (34.4950152953, -5.4634736915), (34.8010113996, -2.9402772938))
        make_face()
        with BuildLine():
            Line((34.8325139058, 2.54), (29.845, 0))
            Line((29.845, 0), (34.8325139058, -2.54))
            ThreePointArc((34.8325139058, -2.54), (34.925, 0), (34.8325139058, 2.54))
        make_face()
        with BuildLine():
            Line((34.0063243172, 7.957734064), (29.4775585251, 4.6687866091))
            Line((29.4775585251, 4.6687866091), (34.8010113996, 2.9402772938))
            ThreePointArc((34.8010113996, 2.9402772938), (34.4950152953, 5.4634736915), (34.0063243172, 7.957734064))
        make_face()
        with BuildLine():
            Line((32.3427861634, 13.1795223051), (28.3842817288, 9.2226121971))
            Line((28.3842817288, 9.2226121971), (33.9125924948, 8.3481552023))
            ThreePointArc((33.9125924948, 8.3481552023), (33.2156488316, 10.7924185285), (32.3427861634, 13.1795223051))
        make_face()
        with BuildLine():
            Line((29.8828612746, 18.0767869667), (26.5920897144, 13.5493464647))
            Line((26.5920897144, 13.5493464647), (32.1891330133, 13.5504738239))
            ThreePointArc((32.1891330133, 13.5504738239), (31.1184028573, 15.8556182034), (29.8828612746, 18.0767869667))
        make_face()
        with BuildLine():
            Line((26.6871211658, 22.5289411398), (24.1451121971, 17.5424508547))
            Line((24.1451121971, 17.5424508547), (29.6730702474, 18.4191348084))
            ThreePointArc((29.6730702474, 18.4191348084), (28.2549185285, 20.5283999363), (26.6871211658, 22.5289411398))
        make_face()
        with BuildLine():
            Line((22.8342555644, 26.4263580128), (21.1036018845, 21.1036018845))
            Line((21.1036018845, 21.1036018845), (26.4263580128, 22.8342555644))
            ThreePointArc((26.4263580128, 22.8342555644), (24.6957043329, 24.6957043329), (22.8342555644, 26.4263580128))
        make_face()
        with BuildLine():
            Line((18.4191348084, 29.6730702474), (17.5424508547, 24.1451121971))
            Line((17.5424508547, 24.1451121971), (22.5289411398, 26.6871211658))
            ThreePointArc((22.5289411398, 26.6871211658), (20.5283999363, 28.2549185285), (18.4191348084, 29.6730702474))
        make_face()
        with BuildLine():
            Line((13.5504738239, 32.1891330133), (13.5493464647, 26.5920897144))
            Line((13.5493464647, 26.5920897144), (18.0767869667, 29.8828612746))
            ThreePointArc((18.0767869667, 29.8828612746), (15.8556182034, 31.1184028573), (13.5504738239, 32.1891330133))
        make_face()
        with BuildLine():
            Line((8.3481552023, 33.9125924948), (9.2226121971, 28.3842817288))
            Line((9.2226121971, 28.3842817288), (13.1795223051, 32.3427861634))
            ThreePointArc((13.1795223051, 32.3427861634), (10.7924185285, 33.2156488316), (8.3481552023, 33.9125924948))
        make_face()
        with BuildLine():
            Line((2.9402772938, 34.8010113996), (4.6687866091, 29.4775585251))
            Line((4.6687866091, 29.4775585251), (7.957734064, 34.0063243172))
            ThreePointArc((7.957734064, 34.0063243172), (5.4634736915, 34.4950152953), (2.9402772938, 34.8010113996))
        make_face()
    extrude(amount=-F9_DEPTH, mode=Mode.SUBTRACT)

    # F10 (on Front) → F11 (cut, two sides)
    with BuildSketch(Plane.XZ) as f11_sk:
        with Locations((0, 12.7)):
            Rectangle(F10_W, F10_H)
    extrude(amount=-F11_DEPTH, mode=Mode.SUBTRACT)
    extrude(f11_sk.sketch, amount=F11_DEPTH_BACK, mode=Mode.SUBTRACT)

    # F12 (on face) → F13 (cut)
    with BuildSketch(Plane.XY.offset(50.8)):
        with Locations((-13.214321807, 11.8566863239)):
            Circle(F12_R)
    extrude(amount=-F13_DEPTH, mode=Mode.SUBTRACT)


solid = f1.part
